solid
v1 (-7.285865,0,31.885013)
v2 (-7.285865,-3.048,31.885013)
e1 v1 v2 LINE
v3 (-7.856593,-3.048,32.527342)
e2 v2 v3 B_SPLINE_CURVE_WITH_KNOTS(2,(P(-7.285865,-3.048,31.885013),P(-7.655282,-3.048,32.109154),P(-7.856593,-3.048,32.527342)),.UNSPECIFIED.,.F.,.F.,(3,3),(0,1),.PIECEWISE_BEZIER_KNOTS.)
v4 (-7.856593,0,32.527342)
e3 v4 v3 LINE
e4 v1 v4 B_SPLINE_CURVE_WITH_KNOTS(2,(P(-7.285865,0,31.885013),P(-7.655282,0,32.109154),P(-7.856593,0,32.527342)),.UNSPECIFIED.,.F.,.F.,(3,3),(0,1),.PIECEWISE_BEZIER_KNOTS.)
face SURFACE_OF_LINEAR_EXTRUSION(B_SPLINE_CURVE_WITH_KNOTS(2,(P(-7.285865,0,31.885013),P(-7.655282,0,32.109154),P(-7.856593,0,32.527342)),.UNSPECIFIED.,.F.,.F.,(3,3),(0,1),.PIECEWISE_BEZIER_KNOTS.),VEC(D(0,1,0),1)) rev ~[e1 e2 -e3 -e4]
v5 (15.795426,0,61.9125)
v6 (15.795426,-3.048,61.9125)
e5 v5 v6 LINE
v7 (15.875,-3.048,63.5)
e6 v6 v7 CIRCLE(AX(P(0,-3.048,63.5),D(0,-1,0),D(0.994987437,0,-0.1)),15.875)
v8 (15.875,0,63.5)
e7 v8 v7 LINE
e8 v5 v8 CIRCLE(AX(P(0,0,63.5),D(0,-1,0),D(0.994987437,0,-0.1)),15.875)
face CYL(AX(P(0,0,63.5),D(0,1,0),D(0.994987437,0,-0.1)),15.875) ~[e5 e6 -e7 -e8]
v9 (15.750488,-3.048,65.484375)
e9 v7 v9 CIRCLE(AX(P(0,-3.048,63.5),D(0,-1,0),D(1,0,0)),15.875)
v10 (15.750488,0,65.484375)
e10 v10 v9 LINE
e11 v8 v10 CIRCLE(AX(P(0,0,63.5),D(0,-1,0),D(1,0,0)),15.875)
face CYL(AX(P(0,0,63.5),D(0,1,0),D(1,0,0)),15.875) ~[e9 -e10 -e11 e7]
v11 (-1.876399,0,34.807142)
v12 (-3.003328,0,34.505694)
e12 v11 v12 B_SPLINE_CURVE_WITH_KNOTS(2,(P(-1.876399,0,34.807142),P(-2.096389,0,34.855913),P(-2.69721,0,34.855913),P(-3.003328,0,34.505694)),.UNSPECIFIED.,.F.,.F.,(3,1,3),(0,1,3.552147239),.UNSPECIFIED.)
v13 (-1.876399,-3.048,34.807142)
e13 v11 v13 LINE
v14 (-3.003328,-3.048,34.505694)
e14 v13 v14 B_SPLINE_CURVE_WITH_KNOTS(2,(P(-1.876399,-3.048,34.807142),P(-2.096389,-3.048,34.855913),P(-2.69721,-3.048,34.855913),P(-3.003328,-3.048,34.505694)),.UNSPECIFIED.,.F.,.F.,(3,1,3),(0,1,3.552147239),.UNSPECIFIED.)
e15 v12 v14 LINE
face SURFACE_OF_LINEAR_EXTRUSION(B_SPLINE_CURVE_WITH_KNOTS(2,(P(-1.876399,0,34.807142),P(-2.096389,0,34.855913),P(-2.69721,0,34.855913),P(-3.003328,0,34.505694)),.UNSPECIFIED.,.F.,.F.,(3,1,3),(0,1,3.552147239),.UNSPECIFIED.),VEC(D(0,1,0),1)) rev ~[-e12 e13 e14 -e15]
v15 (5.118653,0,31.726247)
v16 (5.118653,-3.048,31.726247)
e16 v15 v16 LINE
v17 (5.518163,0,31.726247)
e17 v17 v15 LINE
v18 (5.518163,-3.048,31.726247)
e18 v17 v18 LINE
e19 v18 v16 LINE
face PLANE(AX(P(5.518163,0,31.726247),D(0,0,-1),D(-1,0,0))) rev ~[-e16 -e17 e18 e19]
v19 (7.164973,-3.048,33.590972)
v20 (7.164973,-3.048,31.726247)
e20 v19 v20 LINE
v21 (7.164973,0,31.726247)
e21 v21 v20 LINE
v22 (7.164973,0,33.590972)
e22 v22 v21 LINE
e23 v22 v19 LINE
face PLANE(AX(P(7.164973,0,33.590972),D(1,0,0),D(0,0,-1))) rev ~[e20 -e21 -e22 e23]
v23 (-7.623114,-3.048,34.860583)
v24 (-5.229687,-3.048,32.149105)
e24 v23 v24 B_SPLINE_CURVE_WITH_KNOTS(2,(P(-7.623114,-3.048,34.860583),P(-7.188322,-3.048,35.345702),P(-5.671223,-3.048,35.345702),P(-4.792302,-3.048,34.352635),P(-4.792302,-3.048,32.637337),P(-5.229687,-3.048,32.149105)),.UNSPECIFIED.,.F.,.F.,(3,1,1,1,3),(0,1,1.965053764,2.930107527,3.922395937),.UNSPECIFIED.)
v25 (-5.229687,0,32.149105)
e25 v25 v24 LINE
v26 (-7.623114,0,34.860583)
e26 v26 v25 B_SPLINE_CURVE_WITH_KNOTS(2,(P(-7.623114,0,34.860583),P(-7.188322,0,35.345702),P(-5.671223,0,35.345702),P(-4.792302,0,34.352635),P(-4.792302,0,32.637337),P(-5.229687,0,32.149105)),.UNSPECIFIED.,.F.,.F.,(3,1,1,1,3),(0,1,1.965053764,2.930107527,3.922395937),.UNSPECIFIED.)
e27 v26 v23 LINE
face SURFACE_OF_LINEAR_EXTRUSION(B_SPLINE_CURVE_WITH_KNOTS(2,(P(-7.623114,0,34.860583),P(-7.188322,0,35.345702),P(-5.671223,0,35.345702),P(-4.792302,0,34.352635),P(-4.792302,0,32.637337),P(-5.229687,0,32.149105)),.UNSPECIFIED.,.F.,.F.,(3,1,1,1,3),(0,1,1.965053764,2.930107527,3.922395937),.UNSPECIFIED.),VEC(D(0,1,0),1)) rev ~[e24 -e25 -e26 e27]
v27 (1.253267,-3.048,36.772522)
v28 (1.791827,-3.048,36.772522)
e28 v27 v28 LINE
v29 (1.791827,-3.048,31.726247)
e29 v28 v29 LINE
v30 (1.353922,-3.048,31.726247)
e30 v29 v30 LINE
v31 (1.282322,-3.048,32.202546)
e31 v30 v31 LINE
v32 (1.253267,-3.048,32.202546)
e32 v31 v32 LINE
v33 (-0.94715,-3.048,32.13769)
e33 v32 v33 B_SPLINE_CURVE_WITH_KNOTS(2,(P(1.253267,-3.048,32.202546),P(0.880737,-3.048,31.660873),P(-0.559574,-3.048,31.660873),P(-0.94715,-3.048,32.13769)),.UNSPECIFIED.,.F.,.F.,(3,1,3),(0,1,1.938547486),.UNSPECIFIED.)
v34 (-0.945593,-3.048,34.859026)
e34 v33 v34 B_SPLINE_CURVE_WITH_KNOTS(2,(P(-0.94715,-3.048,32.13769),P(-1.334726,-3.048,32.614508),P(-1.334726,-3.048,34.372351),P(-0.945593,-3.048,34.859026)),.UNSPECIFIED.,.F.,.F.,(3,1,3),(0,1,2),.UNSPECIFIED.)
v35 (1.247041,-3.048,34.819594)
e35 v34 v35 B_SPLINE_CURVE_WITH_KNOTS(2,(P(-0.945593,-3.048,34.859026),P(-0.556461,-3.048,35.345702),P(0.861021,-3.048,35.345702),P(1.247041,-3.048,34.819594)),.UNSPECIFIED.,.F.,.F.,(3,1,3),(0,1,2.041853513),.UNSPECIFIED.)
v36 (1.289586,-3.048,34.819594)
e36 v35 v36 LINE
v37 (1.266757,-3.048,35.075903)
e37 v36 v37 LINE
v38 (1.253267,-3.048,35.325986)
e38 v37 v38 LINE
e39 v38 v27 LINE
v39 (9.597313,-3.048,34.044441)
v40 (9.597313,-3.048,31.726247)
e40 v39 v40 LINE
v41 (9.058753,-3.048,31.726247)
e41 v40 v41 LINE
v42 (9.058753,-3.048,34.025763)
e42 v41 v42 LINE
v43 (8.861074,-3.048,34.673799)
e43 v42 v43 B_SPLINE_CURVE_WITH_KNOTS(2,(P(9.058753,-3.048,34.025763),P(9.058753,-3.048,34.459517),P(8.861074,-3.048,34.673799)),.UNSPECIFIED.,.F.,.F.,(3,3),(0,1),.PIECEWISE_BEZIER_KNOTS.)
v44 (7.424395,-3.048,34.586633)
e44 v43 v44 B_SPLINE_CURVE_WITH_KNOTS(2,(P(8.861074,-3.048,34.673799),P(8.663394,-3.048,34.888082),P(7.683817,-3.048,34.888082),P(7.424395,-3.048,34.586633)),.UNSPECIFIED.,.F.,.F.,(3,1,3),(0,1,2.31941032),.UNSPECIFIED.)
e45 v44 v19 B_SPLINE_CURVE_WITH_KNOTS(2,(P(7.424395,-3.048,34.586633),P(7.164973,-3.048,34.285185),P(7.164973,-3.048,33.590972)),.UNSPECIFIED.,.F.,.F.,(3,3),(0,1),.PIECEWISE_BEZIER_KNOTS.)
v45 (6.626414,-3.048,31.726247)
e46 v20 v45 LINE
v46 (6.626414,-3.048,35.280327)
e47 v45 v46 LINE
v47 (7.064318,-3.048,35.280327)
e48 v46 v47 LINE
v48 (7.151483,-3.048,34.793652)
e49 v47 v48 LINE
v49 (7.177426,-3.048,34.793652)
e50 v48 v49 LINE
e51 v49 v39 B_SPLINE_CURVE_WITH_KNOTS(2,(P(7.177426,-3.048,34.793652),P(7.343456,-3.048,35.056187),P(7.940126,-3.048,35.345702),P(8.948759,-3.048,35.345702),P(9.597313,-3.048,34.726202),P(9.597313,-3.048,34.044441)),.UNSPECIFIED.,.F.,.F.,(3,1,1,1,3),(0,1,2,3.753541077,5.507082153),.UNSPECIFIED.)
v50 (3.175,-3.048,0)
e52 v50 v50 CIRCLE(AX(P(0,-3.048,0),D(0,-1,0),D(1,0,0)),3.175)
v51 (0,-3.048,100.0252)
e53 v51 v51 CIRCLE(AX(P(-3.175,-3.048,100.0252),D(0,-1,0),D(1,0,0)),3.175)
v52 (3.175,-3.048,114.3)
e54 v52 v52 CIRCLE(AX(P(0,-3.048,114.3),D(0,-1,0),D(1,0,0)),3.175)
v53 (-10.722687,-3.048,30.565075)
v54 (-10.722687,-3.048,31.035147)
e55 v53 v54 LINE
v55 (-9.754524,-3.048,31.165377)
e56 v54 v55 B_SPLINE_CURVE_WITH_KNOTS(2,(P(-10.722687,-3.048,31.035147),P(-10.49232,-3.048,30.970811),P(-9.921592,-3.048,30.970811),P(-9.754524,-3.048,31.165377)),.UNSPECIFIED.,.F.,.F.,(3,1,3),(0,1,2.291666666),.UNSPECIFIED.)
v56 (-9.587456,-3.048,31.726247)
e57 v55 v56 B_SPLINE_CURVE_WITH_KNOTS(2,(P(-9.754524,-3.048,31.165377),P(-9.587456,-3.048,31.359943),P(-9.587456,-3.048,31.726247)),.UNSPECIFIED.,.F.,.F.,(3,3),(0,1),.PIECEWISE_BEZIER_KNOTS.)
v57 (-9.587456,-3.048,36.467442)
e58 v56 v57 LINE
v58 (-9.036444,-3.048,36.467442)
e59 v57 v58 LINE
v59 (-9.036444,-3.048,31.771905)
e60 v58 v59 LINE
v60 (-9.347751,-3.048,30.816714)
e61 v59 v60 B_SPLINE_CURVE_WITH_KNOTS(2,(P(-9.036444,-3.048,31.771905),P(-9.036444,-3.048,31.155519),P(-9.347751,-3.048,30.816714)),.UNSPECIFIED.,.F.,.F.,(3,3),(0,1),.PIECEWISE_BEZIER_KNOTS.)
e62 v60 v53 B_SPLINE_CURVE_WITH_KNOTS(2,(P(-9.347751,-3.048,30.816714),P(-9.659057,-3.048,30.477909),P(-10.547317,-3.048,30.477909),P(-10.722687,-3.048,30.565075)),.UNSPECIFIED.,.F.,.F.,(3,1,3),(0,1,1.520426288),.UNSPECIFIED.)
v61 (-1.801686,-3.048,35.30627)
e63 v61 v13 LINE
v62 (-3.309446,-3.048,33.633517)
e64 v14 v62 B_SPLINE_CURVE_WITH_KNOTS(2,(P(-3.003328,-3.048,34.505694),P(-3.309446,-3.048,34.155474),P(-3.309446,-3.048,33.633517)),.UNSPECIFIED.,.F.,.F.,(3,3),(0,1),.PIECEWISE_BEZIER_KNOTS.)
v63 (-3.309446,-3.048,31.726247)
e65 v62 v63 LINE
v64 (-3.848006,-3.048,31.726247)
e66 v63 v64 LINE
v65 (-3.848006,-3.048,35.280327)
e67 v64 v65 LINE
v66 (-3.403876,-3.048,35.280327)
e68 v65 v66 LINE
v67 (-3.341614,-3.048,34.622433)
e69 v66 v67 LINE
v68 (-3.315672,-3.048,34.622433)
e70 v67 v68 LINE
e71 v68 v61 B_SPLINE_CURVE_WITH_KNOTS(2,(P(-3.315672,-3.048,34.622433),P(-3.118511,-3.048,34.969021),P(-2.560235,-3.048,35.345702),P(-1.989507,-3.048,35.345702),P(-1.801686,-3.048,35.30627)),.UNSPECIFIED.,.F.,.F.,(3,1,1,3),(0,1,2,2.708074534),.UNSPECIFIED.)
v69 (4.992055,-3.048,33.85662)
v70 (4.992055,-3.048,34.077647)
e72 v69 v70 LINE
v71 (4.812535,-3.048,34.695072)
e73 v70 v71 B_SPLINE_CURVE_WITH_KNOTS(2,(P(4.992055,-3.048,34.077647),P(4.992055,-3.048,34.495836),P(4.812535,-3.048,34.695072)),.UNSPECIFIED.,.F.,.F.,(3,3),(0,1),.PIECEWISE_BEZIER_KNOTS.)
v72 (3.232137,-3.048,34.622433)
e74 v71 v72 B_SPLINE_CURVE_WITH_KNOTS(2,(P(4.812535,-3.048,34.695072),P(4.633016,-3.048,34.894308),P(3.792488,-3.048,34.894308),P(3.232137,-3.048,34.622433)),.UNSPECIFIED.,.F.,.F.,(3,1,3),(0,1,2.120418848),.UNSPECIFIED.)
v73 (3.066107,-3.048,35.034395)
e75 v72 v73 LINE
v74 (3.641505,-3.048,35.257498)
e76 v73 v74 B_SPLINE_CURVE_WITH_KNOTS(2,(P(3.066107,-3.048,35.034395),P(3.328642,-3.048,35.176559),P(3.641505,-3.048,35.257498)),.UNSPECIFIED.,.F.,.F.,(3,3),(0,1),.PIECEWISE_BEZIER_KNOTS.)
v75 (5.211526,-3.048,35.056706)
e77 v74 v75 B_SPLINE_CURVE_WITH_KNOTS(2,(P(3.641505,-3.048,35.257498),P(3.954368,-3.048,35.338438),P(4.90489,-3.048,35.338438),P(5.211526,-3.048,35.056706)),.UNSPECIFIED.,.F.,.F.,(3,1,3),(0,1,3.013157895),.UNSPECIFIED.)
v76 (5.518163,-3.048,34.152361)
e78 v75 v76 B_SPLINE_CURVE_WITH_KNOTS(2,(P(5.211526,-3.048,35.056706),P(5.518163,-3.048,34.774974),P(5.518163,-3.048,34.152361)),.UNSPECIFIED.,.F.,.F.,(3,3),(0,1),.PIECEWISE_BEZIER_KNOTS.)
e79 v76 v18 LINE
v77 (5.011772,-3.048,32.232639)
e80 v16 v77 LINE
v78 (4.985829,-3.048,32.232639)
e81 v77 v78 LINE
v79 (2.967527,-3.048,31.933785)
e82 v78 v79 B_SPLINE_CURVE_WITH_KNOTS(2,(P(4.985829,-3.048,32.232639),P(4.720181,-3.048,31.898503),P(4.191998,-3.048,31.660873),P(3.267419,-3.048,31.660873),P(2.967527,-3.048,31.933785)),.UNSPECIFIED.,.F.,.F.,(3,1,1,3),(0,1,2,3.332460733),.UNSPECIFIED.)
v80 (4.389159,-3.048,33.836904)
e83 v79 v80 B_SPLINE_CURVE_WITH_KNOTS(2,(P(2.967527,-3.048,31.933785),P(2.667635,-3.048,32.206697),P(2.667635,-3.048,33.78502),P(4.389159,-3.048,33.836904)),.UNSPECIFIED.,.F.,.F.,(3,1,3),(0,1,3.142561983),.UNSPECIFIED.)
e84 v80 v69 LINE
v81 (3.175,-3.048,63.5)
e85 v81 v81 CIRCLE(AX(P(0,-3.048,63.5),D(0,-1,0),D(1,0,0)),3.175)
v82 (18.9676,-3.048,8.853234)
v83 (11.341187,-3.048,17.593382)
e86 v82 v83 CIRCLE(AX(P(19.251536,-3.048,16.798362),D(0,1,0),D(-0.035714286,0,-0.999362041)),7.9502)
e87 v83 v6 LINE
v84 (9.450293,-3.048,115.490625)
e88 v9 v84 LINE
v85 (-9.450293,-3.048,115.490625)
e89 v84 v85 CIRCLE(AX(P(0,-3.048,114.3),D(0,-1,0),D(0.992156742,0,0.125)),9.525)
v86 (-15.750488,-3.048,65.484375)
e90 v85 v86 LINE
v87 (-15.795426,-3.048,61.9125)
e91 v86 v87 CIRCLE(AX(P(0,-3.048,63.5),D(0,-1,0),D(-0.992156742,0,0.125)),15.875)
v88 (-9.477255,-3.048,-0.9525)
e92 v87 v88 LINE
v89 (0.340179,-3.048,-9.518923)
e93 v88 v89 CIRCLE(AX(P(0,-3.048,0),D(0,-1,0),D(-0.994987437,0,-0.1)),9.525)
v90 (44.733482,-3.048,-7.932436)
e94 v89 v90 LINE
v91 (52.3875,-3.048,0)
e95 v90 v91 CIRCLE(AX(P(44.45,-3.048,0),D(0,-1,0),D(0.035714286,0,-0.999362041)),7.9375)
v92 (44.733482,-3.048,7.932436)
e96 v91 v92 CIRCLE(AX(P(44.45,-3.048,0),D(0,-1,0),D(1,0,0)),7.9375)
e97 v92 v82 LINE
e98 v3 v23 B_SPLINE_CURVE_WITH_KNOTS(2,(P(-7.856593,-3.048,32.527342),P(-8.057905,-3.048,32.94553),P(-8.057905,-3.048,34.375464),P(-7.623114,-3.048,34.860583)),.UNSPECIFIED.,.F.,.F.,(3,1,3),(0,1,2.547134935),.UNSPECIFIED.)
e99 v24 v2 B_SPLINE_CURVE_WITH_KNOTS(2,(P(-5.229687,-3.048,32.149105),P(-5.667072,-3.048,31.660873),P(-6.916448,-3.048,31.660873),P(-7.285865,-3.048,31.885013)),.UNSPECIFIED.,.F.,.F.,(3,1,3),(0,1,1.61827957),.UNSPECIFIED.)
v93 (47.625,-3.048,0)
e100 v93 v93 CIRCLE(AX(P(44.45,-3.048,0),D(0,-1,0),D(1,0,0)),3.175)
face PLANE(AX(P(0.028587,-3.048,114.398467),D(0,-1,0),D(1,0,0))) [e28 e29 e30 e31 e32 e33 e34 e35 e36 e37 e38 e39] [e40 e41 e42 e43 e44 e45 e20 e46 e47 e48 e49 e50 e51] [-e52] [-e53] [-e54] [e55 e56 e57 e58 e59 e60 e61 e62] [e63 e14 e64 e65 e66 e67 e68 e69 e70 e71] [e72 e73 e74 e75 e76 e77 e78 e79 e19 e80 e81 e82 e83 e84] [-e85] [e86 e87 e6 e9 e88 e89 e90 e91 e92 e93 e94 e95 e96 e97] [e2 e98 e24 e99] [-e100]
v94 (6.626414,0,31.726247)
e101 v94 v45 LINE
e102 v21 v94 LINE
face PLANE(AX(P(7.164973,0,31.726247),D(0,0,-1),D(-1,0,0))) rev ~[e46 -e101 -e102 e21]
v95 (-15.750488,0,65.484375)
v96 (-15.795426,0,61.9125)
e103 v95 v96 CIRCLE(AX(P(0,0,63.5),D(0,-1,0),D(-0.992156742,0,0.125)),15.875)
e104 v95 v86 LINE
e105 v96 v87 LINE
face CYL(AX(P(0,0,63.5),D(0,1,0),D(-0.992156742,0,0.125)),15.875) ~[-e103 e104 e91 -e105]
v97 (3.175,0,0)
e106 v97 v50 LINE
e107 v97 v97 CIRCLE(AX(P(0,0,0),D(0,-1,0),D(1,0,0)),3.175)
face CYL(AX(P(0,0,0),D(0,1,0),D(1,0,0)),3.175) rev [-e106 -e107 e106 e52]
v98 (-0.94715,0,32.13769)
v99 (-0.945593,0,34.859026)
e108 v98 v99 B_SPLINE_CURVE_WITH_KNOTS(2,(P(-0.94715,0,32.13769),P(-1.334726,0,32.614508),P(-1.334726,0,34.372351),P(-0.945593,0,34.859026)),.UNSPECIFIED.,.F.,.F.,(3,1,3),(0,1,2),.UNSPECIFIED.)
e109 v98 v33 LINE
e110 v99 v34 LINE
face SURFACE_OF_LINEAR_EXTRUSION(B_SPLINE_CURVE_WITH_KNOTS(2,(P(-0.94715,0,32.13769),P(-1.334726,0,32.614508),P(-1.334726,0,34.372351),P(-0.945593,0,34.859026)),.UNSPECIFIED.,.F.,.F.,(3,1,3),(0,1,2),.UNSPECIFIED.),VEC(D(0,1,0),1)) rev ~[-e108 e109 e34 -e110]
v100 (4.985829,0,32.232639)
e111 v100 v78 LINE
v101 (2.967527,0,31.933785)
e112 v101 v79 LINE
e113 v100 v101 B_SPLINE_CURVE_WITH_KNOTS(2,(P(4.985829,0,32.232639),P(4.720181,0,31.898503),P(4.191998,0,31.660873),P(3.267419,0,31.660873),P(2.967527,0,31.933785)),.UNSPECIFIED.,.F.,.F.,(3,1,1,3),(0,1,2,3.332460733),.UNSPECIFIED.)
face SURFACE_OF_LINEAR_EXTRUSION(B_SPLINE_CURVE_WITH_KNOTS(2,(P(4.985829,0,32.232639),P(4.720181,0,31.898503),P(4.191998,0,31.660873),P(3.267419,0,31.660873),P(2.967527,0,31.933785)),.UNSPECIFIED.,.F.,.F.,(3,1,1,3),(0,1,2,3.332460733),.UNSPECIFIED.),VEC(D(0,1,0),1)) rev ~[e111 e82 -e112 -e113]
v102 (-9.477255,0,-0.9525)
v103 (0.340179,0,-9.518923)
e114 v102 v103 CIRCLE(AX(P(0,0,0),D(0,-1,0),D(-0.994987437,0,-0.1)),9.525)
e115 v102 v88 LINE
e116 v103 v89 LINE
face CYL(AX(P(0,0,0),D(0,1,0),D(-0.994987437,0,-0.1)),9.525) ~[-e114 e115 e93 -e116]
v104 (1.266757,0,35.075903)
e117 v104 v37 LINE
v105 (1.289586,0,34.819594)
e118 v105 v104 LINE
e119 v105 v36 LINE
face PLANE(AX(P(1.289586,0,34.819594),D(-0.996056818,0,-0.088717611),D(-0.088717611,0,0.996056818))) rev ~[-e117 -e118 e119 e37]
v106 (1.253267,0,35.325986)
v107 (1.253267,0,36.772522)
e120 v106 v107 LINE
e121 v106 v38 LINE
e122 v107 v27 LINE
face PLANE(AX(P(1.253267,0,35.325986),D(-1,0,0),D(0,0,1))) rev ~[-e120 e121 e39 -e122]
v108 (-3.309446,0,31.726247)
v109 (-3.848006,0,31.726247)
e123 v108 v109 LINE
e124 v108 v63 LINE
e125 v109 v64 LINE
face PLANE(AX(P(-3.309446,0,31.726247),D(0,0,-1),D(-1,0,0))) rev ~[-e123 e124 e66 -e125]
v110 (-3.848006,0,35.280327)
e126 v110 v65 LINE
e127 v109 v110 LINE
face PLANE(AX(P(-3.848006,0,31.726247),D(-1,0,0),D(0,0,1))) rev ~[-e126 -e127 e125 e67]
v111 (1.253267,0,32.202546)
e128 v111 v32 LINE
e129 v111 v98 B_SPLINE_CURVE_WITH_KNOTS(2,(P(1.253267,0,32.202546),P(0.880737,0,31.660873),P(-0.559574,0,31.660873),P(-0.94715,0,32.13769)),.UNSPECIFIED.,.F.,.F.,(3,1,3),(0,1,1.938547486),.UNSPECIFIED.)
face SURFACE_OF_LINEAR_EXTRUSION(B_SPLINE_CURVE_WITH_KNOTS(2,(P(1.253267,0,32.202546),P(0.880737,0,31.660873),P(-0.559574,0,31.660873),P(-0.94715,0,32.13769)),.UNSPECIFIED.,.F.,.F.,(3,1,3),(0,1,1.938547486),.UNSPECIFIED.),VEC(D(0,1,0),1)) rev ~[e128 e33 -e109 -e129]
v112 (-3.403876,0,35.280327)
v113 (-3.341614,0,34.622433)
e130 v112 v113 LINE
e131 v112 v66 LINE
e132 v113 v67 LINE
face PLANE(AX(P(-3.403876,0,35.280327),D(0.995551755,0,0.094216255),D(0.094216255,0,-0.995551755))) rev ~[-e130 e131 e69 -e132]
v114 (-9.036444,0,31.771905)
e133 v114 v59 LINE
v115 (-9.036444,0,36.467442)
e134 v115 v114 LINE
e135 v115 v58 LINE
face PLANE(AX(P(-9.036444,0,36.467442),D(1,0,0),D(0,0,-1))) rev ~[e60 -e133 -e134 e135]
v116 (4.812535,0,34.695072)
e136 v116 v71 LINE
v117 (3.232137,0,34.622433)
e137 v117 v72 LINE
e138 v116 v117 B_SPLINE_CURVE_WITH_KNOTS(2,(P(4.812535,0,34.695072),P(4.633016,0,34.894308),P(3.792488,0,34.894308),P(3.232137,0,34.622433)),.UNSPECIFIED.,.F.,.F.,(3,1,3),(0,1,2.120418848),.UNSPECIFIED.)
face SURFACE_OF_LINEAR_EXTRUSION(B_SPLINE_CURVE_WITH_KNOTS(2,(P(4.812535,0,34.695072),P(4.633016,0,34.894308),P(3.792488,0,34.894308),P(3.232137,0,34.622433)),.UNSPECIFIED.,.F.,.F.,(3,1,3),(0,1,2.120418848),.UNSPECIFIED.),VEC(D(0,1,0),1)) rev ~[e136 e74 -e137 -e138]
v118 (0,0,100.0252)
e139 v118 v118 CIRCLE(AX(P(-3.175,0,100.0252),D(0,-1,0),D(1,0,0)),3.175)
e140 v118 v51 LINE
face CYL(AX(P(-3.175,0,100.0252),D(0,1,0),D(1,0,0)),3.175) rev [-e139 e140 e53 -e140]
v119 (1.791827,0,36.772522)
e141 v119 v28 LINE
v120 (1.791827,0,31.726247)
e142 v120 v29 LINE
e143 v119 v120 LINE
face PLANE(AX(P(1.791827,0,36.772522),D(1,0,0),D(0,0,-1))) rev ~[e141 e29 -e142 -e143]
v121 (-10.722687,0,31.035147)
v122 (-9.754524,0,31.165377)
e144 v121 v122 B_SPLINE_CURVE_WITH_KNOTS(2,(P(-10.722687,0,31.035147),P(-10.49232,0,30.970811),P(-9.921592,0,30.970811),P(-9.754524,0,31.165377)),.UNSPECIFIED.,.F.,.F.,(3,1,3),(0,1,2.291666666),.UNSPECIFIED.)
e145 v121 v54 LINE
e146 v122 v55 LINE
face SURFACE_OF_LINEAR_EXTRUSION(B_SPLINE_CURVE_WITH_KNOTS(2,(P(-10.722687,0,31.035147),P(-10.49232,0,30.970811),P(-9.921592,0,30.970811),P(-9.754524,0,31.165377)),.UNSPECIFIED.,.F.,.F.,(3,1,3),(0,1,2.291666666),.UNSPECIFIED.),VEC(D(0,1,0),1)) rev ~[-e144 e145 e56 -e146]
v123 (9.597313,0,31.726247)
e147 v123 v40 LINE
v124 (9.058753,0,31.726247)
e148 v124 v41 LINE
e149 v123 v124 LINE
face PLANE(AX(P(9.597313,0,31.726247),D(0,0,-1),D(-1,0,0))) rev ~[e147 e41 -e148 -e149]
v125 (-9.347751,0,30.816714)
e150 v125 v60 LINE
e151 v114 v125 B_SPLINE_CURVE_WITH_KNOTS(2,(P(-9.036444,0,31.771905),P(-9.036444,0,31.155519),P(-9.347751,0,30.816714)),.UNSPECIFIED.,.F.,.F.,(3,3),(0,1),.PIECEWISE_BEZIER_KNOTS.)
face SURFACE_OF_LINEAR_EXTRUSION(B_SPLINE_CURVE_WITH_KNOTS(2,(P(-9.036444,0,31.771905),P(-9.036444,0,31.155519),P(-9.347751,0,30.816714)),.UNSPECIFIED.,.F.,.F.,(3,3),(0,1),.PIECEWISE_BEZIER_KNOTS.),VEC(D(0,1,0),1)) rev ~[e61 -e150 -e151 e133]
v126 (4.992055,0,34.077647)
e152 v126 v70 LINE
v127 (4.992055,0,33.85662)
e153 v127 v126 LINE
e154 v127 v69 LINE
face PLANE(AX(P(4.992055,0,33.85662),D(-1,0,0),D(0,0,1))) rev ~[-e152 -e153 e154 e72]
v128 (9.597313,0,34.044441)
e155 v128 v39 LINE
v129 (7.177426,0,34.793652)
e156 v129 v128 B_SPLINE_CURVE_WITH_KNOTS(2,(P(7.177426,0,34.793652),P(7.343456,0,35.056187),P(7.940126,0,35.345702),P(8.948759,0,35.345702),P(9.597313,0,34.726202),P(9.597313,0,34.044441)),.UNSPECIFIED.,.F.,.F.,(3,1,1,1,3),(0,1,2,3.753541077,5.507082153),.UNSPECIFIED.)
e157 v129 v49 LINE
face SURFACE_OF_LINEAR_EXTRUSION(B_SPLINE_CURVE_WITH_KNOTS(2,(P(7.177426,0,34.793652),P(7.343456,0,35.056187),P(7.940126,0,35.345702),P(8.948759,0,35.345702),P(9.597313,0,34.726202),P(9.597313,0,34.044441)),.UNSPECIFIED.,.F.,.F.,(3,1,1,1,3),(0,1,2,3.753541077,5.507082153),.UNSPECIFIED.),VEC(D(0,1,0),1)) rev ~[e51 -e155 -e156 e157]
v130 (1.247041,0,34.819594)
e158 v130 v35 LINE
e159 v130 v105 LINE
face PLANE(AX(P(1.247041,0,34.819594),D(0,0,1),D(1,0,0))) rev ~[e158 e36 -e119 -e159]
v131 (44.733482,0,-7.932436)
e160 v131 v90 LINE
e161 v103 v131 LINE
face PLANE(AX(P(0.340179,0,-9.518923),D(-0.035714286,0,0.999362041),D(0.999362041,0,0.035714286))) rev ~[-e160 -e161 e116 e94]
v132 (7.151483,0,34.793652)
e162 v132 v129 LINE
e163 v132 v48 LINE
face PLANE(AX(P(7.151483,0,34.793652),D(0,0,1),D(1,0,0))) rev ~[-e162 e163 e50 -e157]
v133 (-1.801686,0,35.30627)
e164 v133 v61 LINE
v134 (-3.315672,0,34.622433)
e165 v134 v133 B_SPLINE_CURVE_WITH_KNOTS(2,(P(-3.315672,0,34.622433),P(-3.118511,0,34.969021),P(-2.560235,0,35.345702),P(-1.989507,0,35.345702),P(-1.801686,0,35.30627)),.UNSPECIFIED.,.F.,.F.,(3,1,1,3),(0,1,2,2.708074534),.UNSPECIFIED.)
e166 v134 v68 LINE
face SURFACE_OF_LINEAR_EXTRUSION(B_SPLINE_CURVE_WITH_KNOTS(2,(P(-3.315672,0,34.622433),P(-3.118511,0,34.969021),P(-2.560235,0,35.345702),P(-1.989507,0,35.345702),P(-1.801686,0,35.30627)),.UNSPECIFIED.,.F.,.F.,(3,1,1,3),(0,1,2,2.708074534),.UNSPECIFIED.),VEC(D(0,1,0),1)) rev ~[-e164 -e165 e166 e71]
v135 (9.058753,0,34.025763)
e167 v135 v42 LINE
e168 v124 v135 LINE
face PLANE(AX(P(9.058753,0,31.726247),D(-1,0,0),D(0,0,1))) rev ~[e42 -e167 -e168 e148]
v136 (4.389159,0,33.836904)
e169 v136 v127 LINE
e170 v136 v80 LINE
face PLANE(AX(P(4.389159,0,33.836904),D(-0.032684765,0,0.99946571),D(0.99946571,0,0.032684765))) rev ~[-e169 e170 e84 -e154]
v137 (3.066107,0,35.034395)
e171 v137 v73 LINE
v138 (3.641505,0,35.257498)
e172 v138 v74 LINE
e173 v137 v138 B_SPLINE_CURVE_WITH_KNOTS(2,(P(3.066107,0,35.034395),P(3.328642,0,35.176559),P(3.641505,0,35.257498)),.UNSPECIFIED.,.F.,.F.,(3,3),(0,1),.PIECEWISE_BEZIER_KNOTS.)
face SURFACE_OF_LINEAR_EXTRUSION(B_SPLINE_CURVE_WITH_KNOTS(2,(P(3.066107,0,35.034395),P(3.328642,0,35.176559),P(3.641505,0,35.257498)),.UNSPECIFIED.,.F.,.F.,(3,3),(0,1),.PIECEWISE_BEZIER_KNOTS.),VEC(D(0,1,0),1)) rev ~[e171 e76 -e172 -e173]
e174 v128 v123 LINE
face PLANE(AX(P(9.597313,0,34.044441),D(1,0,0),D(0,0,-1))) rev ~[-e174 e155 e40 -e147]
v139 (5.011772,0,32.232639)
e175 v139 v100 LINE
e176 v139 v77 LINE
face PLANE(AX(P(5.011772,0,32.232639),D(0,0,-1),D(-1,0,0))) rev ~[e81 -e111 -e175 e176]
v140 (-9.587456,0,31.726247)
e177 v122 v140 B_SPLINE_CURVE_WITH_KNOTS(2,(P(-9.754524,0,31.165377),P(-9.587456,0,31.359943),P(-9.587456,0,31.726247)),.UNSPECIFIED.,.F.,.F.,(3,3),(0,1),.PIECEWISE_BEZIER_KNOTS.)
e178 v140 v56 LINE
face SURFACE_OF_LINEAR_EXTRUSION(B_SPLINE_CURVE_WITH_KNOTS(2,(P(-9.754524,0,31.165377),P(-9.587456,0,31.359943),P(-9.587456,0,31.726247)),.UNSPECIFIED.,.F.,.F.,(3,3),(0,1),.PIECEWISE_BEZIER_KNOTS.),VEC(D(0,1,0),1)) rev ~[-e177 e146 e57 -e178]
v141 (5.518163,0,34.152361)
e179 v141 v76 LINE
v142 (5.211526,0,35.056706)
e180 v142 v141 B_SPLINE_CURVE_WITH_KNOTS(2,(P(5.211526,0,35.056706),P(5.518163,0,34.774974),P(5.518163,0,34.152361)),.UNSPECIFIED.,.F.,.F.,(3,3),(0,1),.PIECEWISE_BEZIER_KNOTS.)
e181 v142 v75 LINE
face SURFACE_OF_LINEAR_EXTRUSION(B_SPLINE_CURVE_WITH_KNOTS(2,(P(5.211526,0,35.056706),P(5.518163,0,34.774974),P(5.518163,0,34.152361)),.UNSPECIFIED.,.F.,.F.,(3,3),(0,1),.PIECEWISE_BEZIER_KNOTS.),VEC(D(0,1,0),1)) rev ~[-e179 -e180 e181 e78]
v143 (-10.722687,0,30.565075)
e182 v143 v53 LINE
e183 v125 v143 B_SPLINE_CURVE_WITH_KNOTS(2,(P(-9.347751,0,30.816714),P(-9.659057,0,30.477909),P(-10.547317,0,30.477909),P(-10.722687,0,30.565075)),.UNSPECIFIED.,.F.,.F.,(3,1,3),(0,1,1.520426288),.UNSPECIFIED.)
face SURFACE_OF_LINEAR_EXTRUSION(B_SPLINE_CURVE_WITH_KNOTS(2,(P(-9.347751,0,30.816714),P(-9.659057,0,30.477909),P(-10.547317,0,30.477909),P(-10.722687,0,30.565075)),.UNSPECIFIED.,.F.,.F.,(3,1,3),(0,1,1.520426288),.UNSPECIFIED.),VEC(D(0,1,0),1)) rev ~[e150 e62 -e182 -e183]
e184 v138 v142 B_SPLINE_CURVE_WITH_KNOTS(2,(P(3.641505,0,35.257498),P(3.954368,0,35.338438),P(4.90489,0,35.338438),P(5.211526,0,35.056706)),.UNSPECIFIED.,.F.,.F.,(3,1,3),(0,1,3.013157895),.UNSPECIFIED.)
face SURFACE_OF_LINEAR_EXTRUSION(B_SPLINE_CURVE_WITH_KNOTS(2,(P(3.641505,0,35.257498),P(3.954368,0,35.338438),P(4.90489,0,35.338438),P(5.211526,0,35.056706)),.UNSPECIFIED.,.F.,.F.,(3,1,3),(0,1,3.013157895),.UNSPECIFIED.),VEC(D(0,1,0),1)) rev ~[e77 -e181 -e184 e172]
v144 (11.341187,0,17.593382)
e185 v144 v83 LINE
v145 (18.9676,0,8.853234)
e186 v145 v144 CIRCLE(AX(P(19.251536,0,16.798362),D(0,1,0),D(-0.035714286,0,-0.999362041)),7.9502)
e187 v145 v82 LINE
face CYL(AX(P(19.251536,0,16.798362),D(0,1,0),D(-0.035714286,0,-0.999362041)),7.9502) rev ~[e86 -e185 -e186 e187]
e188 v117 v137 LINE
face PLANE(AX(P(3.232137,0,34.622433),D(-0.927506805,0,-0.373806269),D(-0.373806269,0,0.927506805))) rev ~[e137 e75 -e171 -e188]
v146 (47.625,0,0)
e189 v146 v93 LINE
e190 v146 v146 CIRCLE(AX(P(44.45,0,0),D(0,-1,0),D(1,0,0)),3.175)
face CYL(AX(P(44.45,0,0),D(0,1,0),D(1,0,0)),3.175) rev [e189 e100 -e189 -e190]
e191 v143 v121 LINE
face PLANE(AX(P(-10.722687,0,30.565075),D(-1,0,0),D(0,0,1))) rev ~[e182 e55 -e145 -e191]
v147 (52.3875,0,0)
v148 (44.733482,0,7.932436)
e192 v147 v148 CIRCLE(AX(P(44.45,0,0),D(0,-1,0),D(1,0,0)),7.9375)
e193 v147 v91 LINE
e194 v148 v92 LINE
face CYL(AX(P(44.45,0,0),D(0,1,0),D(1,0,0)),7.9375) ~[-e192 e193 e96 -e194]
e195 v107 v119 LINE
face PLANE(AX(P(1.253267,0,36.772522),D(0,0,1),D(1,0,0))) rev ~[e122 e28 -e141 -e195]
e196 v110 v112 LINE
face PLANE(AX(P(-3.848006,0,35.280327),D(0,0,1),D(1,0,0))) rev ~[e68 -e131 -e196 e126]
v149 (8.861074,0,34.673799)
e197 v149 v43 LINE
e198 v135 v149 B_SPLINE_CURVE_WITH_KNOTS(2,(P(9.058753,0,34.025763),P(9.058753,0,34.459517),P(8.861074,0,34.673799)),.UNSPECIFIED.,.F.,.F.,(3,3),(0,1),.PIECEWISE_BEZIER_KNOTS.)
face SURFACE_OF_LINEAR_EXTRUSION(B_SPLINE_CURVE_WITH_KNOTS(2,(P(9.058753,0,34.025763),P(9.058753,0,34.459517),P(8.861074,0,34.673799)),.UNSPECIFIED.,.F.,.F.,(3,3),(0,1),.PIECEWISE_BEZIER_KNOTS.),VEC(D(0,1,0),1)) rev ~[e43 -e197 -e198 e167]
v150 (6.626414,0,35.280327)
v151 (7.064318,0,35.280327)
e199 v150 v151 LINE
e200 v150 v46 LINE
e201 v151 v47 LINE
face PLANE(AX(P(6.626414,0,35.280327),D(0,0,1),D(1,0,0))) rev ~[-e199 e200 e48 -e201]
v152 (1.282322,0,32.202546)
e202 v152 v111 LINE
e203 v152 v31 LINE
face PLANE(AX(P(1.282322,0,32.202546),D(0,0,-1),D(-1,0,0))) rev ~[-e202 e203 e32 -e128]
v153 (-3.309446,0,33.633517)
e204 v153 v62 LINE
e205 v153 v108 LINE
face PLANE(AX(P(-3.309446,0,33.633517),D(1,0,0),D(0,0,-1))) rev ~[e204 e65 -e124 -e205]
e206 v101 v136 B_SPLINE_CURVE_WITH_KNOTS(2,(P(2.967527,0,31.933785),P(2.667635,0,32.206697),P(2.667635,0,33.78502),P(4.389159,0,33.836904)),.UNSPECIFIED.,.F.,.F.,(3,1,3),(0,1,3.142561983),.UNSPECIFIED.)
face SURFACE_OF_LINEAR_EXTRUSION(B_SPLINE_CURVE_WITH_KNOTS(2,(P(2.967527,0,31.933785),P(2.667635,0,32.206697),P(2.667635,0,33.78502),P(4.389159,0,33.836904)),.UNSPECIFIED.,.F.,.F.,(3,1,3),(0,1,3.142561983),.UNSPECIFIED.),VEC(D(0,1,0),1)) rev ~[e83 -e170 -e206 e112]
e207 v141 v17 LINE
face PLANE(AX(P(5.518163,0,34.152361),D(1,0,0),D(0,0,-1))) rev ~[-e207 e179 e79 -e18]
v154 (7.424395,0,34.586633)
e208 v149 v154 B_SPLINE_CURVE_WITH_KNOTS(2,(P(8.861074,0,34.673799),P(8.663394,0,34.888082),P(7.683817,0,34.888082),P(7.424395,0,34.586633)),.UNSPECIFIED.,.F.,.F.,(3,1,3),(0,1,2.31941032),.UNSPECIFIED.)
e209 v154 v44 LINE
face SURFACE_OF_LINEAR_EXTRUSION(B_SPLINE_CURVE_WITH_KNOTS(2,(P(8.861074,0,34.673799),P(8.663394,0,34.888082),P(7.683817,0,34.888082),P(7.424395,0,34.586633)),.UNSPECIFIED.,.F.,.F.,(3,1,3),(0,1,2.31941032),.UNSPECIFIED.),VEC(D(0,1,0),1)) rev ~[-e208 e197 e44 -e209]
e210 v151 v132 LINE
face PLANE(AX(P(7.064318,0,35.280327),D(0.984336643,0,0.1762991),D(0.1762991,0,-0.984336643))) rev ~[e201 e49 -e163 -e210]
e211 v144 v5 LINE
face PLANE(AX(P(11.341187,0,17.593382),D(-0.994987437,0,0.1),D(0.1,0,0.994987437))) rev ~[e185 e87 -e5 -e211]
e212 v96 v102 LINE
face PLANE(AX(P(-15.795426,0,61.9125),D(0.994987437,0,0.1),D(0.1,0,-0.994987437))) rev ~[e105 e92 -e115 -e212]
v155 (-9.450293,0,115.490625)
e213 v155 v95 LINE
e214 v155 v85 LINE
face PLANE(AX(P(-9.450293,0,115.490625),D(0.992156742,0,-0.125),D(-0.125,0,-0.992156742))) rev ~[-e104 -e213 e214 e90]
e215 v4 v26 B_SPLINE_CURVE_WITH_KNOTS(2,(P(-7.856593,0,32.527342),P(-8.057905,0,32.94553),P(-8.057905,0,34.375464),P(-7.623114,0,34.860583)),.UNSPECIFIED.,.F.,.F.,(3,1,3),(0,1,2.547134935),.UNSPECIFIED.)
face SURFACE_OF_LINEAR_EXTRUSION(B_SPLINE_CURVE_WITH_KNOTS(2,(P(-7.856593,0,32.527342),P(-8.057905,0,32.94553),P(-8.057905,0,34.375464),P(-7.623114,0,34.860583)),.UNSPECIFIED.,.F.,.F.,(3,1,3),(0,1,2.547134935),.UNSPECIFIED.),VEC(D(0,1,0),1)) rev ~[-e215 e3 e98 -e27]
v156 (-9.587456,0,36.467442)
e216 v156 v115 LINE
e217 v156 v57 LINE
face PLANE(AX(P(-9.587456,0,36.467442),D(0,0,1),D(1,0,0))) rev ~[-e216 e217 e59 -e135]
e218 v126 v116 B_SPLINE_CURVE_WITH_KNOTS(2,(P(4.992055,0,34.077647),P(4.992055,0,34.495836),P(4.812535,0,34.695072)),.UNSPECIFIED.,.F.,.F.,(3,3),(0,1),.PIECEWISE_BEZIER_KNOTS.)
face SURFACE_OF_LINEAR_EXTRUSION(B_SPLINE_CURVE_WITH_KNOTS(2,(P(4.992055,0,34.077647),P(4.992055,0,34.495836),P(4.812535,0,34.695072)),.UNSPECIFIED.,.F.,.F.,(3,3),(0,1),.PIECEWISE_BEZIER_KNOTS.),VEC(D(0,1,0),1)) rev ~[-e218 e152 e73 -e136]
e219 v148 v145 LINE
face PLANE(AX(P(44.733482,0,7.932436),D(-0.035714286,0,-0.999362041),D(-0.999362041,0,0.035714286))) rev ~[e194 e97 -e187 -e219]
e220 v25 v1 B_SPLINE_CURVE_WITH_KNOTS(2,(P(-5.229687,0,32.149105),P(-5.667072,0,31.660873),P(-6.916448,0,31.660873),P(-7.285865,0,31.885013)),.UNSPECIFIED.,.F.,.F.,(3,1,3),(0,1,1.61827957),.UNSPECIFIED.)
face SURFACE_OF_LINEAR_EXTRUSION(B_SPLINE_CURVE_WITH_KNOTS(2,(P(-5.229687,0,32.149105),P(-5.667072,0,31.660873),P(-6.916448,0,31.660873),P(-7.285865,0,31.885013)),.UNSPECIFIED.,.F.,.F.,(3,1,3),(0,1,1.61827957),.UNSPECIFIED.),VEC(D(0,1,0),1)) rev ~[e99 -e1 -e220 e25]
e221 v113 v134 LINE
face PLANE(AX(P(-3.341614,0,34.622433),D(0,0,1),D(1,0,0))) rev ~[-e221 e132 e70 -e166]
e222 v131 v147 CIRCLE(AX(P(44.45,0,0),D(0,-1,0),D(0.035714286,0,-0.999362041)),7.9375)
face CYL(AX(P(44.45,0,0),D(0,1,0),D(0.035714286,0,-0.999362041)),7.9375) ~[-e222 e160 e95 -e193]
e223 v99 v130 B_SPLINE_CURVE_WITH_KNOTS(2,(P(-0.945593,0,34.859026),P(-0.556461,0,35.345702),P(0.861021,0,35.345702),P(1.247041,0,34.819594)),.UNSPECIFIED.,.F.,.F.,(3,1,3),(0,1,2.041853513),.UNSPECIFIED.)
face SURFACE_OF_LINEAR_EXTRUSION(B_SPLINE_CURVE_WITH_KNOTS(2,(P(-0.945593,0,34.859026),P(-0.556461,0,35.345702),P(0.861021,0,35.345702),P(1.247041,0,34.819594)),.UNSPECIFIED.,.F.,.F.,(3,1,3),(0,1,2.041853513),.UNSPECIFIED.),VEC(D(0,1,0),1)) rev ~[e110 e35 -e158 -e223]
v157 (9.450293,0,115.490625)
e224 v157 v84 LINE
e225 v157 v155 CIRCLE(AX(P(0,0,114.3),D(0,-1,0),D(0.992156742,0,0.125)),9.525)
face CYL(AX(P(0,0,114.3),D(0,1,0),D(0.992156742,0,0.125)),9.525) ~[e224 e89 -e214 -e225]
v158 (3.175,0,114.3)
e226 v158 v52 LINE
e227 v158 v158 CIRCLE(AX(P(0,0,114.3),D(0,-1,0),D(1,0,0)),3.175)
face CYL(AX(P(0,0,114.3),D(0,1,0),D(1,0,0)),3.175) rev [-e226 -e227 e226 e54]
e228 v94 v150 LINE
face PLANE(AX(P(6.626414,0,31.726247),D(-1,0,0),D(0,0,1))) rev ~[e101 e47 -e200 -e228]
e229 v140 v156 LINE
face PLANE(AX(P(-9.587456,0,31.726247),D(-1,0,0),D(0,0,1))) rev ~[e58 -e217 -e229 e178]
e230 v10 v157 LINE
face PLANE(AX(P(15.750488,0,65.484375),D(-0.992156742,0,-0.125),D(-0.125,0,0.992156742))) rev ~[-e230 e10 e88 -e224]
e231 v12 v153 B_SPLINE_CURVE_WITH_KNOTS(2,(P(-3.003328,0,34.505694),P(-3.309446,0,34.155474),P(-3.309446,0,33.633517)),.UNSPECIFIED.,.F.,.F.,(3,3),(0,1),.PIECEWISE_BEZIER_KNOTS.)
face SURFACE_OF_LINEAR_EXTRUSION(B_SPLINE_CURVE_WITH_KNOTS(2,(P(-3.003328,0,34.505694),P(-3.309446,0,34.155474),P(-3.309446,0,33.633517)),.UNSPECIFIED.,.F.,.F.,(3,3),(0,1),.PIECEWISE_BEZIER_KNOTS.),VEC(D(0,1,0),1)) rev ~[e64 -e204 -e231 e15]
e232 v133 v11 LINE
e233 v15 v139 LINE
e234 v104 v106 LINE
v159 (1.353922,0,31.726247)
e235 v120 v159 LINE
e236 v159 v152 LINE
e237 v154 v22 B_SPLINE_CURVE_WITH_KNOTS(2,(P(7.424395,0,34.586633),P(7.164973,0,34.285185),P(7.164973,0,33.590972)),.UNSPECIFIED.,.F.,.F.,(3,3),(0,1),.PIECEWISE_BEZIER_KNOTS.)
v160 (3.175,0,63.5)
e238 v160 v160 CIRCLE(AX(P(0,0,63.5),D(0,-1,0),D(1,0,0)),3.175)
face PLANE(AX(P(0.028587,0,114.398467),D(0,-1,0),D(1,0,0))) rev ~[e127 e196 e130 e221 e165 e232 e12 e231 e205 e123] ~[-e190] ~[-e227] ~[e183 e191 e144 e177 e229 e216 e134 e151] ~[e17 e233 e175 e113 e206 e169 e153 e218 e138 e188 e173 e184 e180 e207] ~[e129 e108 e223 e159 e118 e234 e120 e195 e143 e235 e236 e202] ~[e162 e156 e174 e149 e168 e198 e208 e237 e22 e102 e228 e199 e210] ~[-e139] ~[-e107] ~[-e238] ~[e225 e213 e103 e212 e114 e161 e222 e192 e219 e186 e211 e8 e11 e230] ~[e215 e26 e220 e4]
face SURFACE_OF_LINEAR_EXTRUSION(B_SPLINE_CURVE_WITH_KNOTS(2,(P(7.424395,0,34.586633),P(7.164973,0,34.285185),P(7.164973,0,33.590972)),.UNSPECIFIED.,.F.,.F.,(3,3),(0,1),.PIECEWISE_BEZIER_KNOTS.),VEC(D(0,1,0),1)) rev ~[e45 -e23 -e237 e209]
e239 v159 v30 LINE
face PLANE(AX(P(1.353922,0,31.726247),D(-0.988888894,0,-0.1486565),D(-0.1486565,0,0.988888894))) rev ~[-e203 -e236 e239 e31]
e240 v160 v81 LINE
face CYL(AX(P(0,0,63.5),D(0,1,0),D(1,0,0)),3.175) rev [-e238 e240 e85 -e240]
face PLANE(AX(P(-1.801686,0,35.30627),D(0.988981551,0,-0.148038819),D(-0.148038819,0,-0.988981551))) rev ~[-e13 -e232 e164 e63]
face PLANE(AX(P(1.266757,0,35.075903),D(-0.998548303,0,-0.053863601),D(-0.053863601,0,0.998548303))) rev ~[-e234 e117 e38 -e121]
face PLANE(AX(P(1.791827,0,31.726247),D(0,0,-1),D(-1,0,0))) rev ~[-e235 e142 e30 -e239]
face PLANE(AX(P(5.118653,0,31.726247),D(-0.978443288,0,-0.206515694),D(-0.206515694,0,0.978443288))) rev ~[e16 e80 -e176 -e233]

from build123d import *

# Parameters (mm, degrees)
F0_R     = 3.175
F1_DEPTH = 3.048


with BuildPart() as f1:
    # F0 (on Front) → F1 (new body)
    with BuildSketch(Plane.XZ):
        with BuildLine():
            ThreePointArc((-9.4502929642, 115.490625), (-0.596483242, 104.7936951058), (9.525, 114.3))
            ThreePointArc((9.525, 114.3), (9.5063048942, 114.896483242), (9.4502929642, 115.490625))
            ThreePointArc((9.4502929642, 115.490625), (0, 123.825), (-9.4502929642, 115.490625))
        make_face()
        with Locations((0, 114.3)):
            Circle(F0_R, mode=Mode.SUBTRACT)
        with BuildLine():
            ThreePointArc((9.4502929642, 115.490625), (9.5063048942, 114.896483242), (9.525, 114.3))
            ThreePointArc((9.525, 114.3), (-0.596483242, 104.7936951058), (-9.4502929642, 115.490625))
            Line((-9.4502929642, 115.490625), (-15.7504882737, 65.484375))
            ThreePointArc((-15.7504882737, 65.484375), (0, 79.375), (15.7504882737, 65.484375))
            Line((15.7504882737, 65.484375), (9.4502929642, 115.490625))
        make_face()
        with Locations((-3.175, 100.0252)):
            Circle(F0_R, mode=Mode.SUBTRACT)
        with BuildLine():
            ThreePointArc((15.875, 63.5), (15.8438414904, 64.4941387366), (15.7504882737, 65.484375))
            ThreePointArc((15.7504882737, 65.484375), (0, 79.375), (-15.7504882737, 65.484375))
            ThreePointArc((-15.7504882737, 65.484375), (-15.8737438155, 63.6997054867), (-15.7954255641, 61.9125))
            ThreePointArc((-15.7954255641, 61.9125), (0, 47.625), (15.7954255641, 61.9125))
            ThreePointArc((15.7954255641, 61.9125), (15.8550939106, 62.7052534459), (15.875, 63.5))
        make_face()
        with Locations((0, 63.5)):
            Circle(F0_R, mode=Mode.SUBTRACT)
        with BuildLine():
            ThreePointArc((15.7954255641, 61.9125), (0, 47.625), (-15.7954255641, 61.9125))
            Line((-15.7954255641, 61.9125), (-9.4772553384, -0.9525))
            ThreePointArc((-9.4772553384, -0.9525), (-0.4768479324, 9.5130563464), (9.525, 0))
            ThreePointArc((9.525, 0), (6.8544082857, -6.6138273378), (0.3401785714, -9.5189234444))
            Line((0.3401785714, -9.5189234444), (44.7334821429, -7.9324362036))
            ThreePointArc((44.7334821429, -7.9324362036), (36.5125, 0), (44.7334821429, 7.9324362036))
            Line((44.7334821429, 7.9324362036), (18.9676000005, 8.8532337108))
            ThreePointArc((18.9676000005, 8.8532337108), (13.2611998974, 11.5713591498), (11.3411865923, 17.5933818124))
            Line((11.3411865923, 17.5933818124), (15.7954255641, 61.9125))
        make_face()
        with BuildLine():
            add(Edge.make_bspline(
                [(-9.3477505007, 30.8167139411), (-9.6590568024, 30.4779089161), (-10.2432749619, 30.4779089161)],
                knots=[0, 0, 0, 1, 1, 1], degree=2))
            add(Edge.make_bspline(
                [(-10.2432749619, 30.4779089161), (-10.5473174499, 30.4779089161), (-10.7226866666, 30.5650746806)],
                knots=[0, 0, 0, 1, 1, 1], degree=2))
            Line((-10.7226866666, 30.5650746806), (-10.7226866666, 31.0351471962))
            add(Edge.make_bspline(
                [(-10.7226866666, 31.0351471962), (-10.4923200033, 30.9708105605), (-10.2432749619, 30.9708105605)],
                knots=[0, 0, 0, 1, 1, 1], degree=2))
            add(Edge.make_bspline(
                [(-10.2432749619, 30.9708105605), (-9.9215917835, 30.9708105605), (-9.7545240682, 31.165376999)],
                knots=[0, 0, 0, 1, 1, 1], degree=2))
            add(Edge.make_bspline(
                [(-9.7545240682, 31.165376999), (-9.587456353, 31.3599434376), (-9.587456353, 31.726247186)],
                knots=[0, 0, 0, 1, 1, 1], degree=2))
            Line((-9.587456353, 31.726247186), (-9.587456353, 36.4674421609))
            Line((-9.587456353, 36.4674421609), (-9.036444199, 36.4674421609))
            Line((-9.036444199, 36.4674421609), (-9.036444199, 31.7719054435))
            add(Edge.make_bspline(
                [(-9.036444199, 31.7719054435), (-9.036444199, 31.1555189662), (-9.3477505007, 30.8167139411)],
                knots=[0, 0, 0, 1, 1, 1], degree=2))
        make_face(mode=Mode.SUBTRACT)
        with BuildLine():
            add(Edge.make_bspline(
                [(-5.2317623483, 34.8491682359), (-4.7923016191, 34.3526346847), (-4.7923016191, 33.5069192317)],
                knots=[0, 0, 0, 1, 1, 1], degree=2))
            add(Edge.make_bspline(
                [(-4.7923016191, 33.5069192317), (-4.7923016191, 32.6373369623), (-5.229686973, 32.1491049124)],
                knots=[0, 0, 0, 1, 1, 1], degree=2))
            add(Edge.make_bspline(
                [(-5.229686973, 32.1491049124), (-5.6670723269, 31.6608728626), (-6.4391119551, 31.6608728626)],
                knots=[0, 0, 0, 1, 1, 1], degree=2))
            add(Edge.make_bspline(
                [(-6.4391119551, 31.6608728626), (-6.9164482844, 31.6608728626), (-7.2858650957, 31.8850133998)],
                knots=[0, 0, 0, 1, 1, 1], degree=2))
            add(Edge.make_bspline(
                [(-7.2858650957, 31.8850133998), (-7.6552819071, 32.1091539371), (-7.8565933155, 32.527342069)],
                knots=[0, 0, 0, 1, 1, 1], degree=2))
            add(Edge.make_bspline(
                [(-7.8565933155, 32.527342069), (-8.057904724, 32.945530201), (-8.057904724, 33.5069192317)],
                knots=[0, 0, 0, 1, 1, 1], degree=2))
            add(Edge.make_bspline(
                [(-8.057904724, 33.5069192317), (-8.057904724, 34.3754638135), (-7.6231135892, 34.8605828003)],
                knots=[0, 0, 0, 1, 1, 1], degree=2))
            add(Edge.make_bspline(
                [(-7.6231135892, 34.8605828003), (-7.1883224545, 35.3457017871), (-6.4162828263, 35.3457017871)],
                knots=[0, 0, 0, 1, 1, 1], degree=2))
            add(Edge.make_bspline(
                [(-6.4162828263, 35.3457017871), (-5.6712230775, 35.3457017871), (-5.2317623483, 34.8491682359)],
                knots=[0, 0, 0, 1, 1, 1], degree=2))
        make_face(mode=Mode.SUBTRACT)
        with BuildLine():
            add(Edge.make_bspline(
                [(-2.8393734197, 35.1573614746), (-2.5602354358, 35.3457017871), (-2.2261000053, 35.3457017871)],
                knots=[0, 0, 0, 1, 1, 1], degree=2))
            add(Edge.make_bspline(
                [(-2.2261000053, 35.3457017871), (-1.989507216, 35.3457017871), (-1.8016857473, 35.3062696556)],
                knots=[0, 0, 0, 1, 1, 1], degree=2))
            Line((-1.8016857473, 35.3062696556), (-1.8763992598, 34.8071418852))
            add(Edge.make_bspline(
                [(-1.8763992598, 34.8071418852), (-2.0963890463, 34.8559132058), (-2.2655321369, 34.8559132058)],
                knots=[0, 0, 0, 1, 1, 1], degree=2))
            add(Edge.make_bspline(
                [(-2.2655321369, 34.8559132058), (-2.6972102086, 34.8559132058), (-3.0033280719, 34.5056936163)],
                knots=[0, 0, 0, 1, 1, 1], degree=2))
            add(Edge.make_bspline(
                [(-3.0033280719, 34.5056936163), (-3.3094459353, 34.1554740269), (-3.3094459353, 33.6335171277)],
                knots=[0, 0, 0, 1, 1, 1], degree=2))
            Line((-3.3094459353, 33.6335171277), (-3.3094459353, 31.726247186))
            Line((-3.3094459353, 31.726247186), (-3.8480058372, 31.726247186))
            Line((-3.8480058372, 31.726247186), (-3.8480058372, 35.2803274638))
            Line((-3.8480058372, 35.2803274638), (-3.4038755135, 35.2803274638))
            Line((-3.4038755135, 35.2803274638), (-3.3416142531, 34.6224334795))
            Line((-3.3416142531, 34.6224334795), (-3.3156720613, 34.6224334795))
            add(Edge.make_bspline(
                [(-3.3156720613, 34.6224334795), (-3.1185114036, 34.9690211621), (-2.8393734197, 35.1573614746)],
                knots=[0, 0, 0, 1, 1, 1], degree=2))
        make_face(mode=Mode.SUBTRACT)
        with BuildLine():
            Line((1.3539224643, 31.726247186), (1.2823220149, 32.2025458276))
            Line((1.2823220149, 32.2025458276), (1.2532667601, 32.2025458276))
            add(Edge.make_bspline(
                [(1.2532667601, 32.2025458276), (0.8807368857, 31.6608728626), (0.1377525123, 31.6608728626)],
                knots=[0, 0, 0, 1, 1, 1], degree=2))
            add(Edge.make_bspline(
                [(0.1377525123, 31.6608728626), (-0.5595736035, 31.6608728626), (-0.9471499492, 32.137690348)],
                knots=[0, 0, 0, 1, 1, 1], degree=2))
            add(Edge.make_bspline(
                [(-0.9471499492, 32.137690348), (-1.3347262948, 32.6145078335), (-1.3347262948, 33.493429292)],
                knots=[0, 0, 0, 1, 1, 1], degree=2))
            add(Edge.make_bspline(
                [(-1.3347262948, 33.493429292), (-1.3347262948, 34.3723507505), (-0.9455934177, 34.8590262688)],
                knots=[0, 0, 0, 1, 1, 1], degree=2))
            add(Edge.make_bspline(
                [(-0.9455934177, 34.8590262688), (-0.5564605405, 35.3457017871), (0.1377525123, 35.3457017871)],
                knots=[0, 0, 0, 1, 1, 1], degree=2))
            add(Edge.make_bspline(
                [(0.1377525123, 35.3457017871), (0.8610208199, 35.3457017871), (1.247040634, 34.8195941372)],
                knots=[0, 0, 0, 1, 1, 1], degree=2))
            Line((1.247040634, 34.8195941372), (1.2895858286, 34.8195941372))
            Line((1.2895858286, 34.8195941372), (1.2667566998, 35.0759029923))
            Line((1.2667566998, 35.0759029923), (1.2532667601, 35.3259857213))
            Line((1.2532667601, 35.3259857213), (1.2532667601, 36.7725223366))
            Line((1.2532667601, 36.7725223366), (1.791826662, 36.7725223366))
            Line((1.791826662, 36.7725223366), (1.791826662, 31.726247186))
            Line((1.791826662, 31.726247186), (1.3539224643, 31.726247186))
        make_face(mode=Mode.SUBTRACT)
        with BuildLine():
            Line((5.5181630934, 31.726247186), (5.1186533396, 31.726247186))
            Line((5.1186533396, 31.726247186), (5.0117715093, 32.2326387701))
            Line((5.0117715093, 32.2326387701), (4.9858293175, 32.2326387701))
            add(Edge.make_bspline(
                [(4.9858293175, 32.2326387701), (4.7201812734, 31.8985033396), (4.4560897608, 31.7796881011)],
                knots=[0, 0, 0, 1, 1, 1], degree=2))
            add(Edge.make_bspline(
                [(4.4560897608, 31.7796881011), (4.1919982482, 31.6608728626), (3.7956015573, 31.6608728626)],
                knots=[0, 0, 0, 1, 1, 1], degree=2))
            add(Edge.make_bspline(
                [(3.7956015573, 31.6608728626), (3.2674185321, 31.6608728626), (2.9675267948, 31.9337847204)],
                knots=[0, 0, 0, 1, 1, 1], degree=2))
            add(Edge.make_bspline(
                [(2.9675267948, 31.9337847204), (2.6676350575, 32.2066965783), (2.6676350575, 32.7089374117)],
                knots=[0, 0, 0, 1, 1, 1], degree=2))
            add(Edge.make_bspline(
                [(2.6676350575, 32.7089374117), (2.6676350575, 33.7850195279), (4.3891589059, 33.8369039115)],
                knots=[0, 0, 0, 1, 1, 1], degree=2))
            Line((4.3891589059, 33.8369039115), (4.9920554435, 33.8566199773))
            Line((4.9920554435, 33.8566199773), (4.9920554435, 34.0776474515))
            add(Edge.make_bspline(
                [(4.9920554435, 34.0776474515), (4.9920554435, 34.4958355835), (4.8125354762, 34.6950716166)],
                knots=[0, 0, 0, 1, 1, 1], degree=2))
            add(Edge.make_bspline(
                [(4.8125354762, 34.6950716166), (4.6330155089, 34.8943076496), (4.2366188181, 34.8943076496)],
                knots=[0, 0, 0, 1, 1, 1], degree=2))
            add(Edge.make_bspline(
                [(4.2366188181, 34.8943076496), (3.7924884943, 34.8943076496), (3.2321371512, 34.6224334795)],
                knots=[0, 0, 0, 1, 1, 1], degree=2))
            Line((3.2321371512, 34.6224334795), (3.0661071237, 35.0343954854))
            add(Edge.make_bspline(
                [(3.0661071237, 35.0343954854), (3.3286421048, 35.1765586965), (3.641504938, 35.257498335)],
                knots=[0, 0, 0, 1, 1, 1], degree=2))
            add(Edge.make_bspline(
                [(3.641504938, 35.257498335), (3.9543677712, 35.3384379734), (4.2698248236, 35.3384379734)],
                knots=[0, 0, 0, 1, 1, 1], degree=2))
            add(Edge.make_bspline(
                [(4.2698248236, 35.3384379734), (4.9048896791, 35.3384379734), (5.2115263862, 35.0567057704)],
                knots=[0, 0, 0, 1, 1, 1], degree=2))
            add(Edge.make_bspline(
                [(5.2115263862, 35.0567057704), (5.5181630934, 34.7749735673), (5.5181630934, 34.1523609639)],
                knots=[0, 0, 0, 1, 1, 1], degree=2))
            Line((5.5181630934, 34.1523609639), (5.5181630934, 31.726247186))
        make_face(mode=Mode.SUBTRACT)
        with BuildLine():
            Line((9.5973133334, 31.726247186), (9.0587534315, 31.726247186))
            Line((9.0587534315, 31.726247186), (9.0587534315, 34.0257630679))
            add(Edge.make_bspline(
                [(9.0587534315, 34.0257630679), (9.0587534315, 34.4595165149), (8.8610739299, 34.6737990193)],
                knots=[0, 0, 0, 1, 1, 1], degree=2))
            add(Edge.make_bspline(
                [(8.8610739299, 34.6737990193), (8.6633944283, 34.8880815236), (8.2410555457, 34.8880815236)],
                knots=[0, 0, 0, 1, 1, 1], degree=2))
            add(Edge.make_bspline(
                [(8.2410555457, 34.8880815236), (7.6838172656, 34.8880815236), (7.4243953475, 34.5866332548)],
                knots=[0, 0, 0, 1, 1, 1], degree=2))
            add(Edge.make_bspline(
                [(7.4243953475, 34.5866332548), (7.1649734295, 34.285184986), (7.1649734295, 33.5909719332)],
                knots=[0, 0, 0, 1, 1, 1], degree=2))
            Line((7.1649734295, 33.5909719332), (7.1649734295, 31.726247186))
            Line((7.1649734295, 31.726247186), (6.6264135275, 31.726247186))
            Line((6.6264135275, 31.726247186), (6.6264135275, 35.2803274638))
            Line((6.6264135275, 35.2803274638), (7.0643177252, 35.2803274638))
            Line((7.0643177252, 35.2803274638), (7.1514834897, 34.7936519454))
            Line((7.1514834897, 34.7936519454), (7.1774256815, 34.7936519454))
            add(Edge.make_bspline(
                [(7.1774256815, 34.7936519454), (7.3434557091, 35.0561869265), (7.6417909149, 35.2009443568)],
                knots=[0, 0, 0, 1, 1, 1], degree=2))
            add(Edge.make_bspline(
                [(7.6417909149, 35.2009443568), (7.9401261207, 35.3457017871), (8.306429869, 35.3457017871)],
                knots=[0, 0, 0, 1, 1, 1], degree=2))
            add(Edge.make_bspline(
                [(8.306429869, 35.3457017871), (8.9487585382, 35.3457017871), (9.2730359358, 35.0359520169)],
                knots=[0, 0, 0, 1, 1, 1], degree=2))
            add(Edge.make_bspline(
                [(9.2730359358, 35.0359520169), (9.5973133334, 34.7262022467), (9.5973133334, 34.044441446)],
                knots=[0, 0, 0, 1, 1, 1], degree=2))
            Line((9.5973133334, 34.044441446), (9.5973133334, 31.726247186))
        make_face(mode=Mode.SUBTRACT)
        with BuildLine():
            ThreePointArc((9.525, 0), (-0.4768479324, 9.5130563464), (-9.4772553384, -0.9525))
            ThreePointArc((-9.4772553384, -0.9525), (-6.2623833816, -7.1769199091), (0.3401785714, -9.5189234444))
            ThreePointArc((0.3401785714, -9.5189234444), (6.8544082857, -6.6138273378), (9.525, 0))
        make_face()
        Circle(F0_R, mode=Mode.SUBTRACT)
        with BuildLine():
            ThreePointArc((44.7334821429, 7.9324362036), (36.5125, 0), (44.7334821429, -7.9324362036))
            ThreePointArc((44.7334821429, -7.9324362036), (50.1620069047, -5.5115227815), (52.3875, 0))
            ThreePointArc((52.3875, 0), (50.1620069047, 5.5115227815), (44.7334821429, 7.9324362036))
        make_face()
        with Locations((44.45, 0)):
            Circle(F0_R, mode=Mode.SUBTRACT)
    extrude(amount=F1_DEPTH)


solid = f1.part
